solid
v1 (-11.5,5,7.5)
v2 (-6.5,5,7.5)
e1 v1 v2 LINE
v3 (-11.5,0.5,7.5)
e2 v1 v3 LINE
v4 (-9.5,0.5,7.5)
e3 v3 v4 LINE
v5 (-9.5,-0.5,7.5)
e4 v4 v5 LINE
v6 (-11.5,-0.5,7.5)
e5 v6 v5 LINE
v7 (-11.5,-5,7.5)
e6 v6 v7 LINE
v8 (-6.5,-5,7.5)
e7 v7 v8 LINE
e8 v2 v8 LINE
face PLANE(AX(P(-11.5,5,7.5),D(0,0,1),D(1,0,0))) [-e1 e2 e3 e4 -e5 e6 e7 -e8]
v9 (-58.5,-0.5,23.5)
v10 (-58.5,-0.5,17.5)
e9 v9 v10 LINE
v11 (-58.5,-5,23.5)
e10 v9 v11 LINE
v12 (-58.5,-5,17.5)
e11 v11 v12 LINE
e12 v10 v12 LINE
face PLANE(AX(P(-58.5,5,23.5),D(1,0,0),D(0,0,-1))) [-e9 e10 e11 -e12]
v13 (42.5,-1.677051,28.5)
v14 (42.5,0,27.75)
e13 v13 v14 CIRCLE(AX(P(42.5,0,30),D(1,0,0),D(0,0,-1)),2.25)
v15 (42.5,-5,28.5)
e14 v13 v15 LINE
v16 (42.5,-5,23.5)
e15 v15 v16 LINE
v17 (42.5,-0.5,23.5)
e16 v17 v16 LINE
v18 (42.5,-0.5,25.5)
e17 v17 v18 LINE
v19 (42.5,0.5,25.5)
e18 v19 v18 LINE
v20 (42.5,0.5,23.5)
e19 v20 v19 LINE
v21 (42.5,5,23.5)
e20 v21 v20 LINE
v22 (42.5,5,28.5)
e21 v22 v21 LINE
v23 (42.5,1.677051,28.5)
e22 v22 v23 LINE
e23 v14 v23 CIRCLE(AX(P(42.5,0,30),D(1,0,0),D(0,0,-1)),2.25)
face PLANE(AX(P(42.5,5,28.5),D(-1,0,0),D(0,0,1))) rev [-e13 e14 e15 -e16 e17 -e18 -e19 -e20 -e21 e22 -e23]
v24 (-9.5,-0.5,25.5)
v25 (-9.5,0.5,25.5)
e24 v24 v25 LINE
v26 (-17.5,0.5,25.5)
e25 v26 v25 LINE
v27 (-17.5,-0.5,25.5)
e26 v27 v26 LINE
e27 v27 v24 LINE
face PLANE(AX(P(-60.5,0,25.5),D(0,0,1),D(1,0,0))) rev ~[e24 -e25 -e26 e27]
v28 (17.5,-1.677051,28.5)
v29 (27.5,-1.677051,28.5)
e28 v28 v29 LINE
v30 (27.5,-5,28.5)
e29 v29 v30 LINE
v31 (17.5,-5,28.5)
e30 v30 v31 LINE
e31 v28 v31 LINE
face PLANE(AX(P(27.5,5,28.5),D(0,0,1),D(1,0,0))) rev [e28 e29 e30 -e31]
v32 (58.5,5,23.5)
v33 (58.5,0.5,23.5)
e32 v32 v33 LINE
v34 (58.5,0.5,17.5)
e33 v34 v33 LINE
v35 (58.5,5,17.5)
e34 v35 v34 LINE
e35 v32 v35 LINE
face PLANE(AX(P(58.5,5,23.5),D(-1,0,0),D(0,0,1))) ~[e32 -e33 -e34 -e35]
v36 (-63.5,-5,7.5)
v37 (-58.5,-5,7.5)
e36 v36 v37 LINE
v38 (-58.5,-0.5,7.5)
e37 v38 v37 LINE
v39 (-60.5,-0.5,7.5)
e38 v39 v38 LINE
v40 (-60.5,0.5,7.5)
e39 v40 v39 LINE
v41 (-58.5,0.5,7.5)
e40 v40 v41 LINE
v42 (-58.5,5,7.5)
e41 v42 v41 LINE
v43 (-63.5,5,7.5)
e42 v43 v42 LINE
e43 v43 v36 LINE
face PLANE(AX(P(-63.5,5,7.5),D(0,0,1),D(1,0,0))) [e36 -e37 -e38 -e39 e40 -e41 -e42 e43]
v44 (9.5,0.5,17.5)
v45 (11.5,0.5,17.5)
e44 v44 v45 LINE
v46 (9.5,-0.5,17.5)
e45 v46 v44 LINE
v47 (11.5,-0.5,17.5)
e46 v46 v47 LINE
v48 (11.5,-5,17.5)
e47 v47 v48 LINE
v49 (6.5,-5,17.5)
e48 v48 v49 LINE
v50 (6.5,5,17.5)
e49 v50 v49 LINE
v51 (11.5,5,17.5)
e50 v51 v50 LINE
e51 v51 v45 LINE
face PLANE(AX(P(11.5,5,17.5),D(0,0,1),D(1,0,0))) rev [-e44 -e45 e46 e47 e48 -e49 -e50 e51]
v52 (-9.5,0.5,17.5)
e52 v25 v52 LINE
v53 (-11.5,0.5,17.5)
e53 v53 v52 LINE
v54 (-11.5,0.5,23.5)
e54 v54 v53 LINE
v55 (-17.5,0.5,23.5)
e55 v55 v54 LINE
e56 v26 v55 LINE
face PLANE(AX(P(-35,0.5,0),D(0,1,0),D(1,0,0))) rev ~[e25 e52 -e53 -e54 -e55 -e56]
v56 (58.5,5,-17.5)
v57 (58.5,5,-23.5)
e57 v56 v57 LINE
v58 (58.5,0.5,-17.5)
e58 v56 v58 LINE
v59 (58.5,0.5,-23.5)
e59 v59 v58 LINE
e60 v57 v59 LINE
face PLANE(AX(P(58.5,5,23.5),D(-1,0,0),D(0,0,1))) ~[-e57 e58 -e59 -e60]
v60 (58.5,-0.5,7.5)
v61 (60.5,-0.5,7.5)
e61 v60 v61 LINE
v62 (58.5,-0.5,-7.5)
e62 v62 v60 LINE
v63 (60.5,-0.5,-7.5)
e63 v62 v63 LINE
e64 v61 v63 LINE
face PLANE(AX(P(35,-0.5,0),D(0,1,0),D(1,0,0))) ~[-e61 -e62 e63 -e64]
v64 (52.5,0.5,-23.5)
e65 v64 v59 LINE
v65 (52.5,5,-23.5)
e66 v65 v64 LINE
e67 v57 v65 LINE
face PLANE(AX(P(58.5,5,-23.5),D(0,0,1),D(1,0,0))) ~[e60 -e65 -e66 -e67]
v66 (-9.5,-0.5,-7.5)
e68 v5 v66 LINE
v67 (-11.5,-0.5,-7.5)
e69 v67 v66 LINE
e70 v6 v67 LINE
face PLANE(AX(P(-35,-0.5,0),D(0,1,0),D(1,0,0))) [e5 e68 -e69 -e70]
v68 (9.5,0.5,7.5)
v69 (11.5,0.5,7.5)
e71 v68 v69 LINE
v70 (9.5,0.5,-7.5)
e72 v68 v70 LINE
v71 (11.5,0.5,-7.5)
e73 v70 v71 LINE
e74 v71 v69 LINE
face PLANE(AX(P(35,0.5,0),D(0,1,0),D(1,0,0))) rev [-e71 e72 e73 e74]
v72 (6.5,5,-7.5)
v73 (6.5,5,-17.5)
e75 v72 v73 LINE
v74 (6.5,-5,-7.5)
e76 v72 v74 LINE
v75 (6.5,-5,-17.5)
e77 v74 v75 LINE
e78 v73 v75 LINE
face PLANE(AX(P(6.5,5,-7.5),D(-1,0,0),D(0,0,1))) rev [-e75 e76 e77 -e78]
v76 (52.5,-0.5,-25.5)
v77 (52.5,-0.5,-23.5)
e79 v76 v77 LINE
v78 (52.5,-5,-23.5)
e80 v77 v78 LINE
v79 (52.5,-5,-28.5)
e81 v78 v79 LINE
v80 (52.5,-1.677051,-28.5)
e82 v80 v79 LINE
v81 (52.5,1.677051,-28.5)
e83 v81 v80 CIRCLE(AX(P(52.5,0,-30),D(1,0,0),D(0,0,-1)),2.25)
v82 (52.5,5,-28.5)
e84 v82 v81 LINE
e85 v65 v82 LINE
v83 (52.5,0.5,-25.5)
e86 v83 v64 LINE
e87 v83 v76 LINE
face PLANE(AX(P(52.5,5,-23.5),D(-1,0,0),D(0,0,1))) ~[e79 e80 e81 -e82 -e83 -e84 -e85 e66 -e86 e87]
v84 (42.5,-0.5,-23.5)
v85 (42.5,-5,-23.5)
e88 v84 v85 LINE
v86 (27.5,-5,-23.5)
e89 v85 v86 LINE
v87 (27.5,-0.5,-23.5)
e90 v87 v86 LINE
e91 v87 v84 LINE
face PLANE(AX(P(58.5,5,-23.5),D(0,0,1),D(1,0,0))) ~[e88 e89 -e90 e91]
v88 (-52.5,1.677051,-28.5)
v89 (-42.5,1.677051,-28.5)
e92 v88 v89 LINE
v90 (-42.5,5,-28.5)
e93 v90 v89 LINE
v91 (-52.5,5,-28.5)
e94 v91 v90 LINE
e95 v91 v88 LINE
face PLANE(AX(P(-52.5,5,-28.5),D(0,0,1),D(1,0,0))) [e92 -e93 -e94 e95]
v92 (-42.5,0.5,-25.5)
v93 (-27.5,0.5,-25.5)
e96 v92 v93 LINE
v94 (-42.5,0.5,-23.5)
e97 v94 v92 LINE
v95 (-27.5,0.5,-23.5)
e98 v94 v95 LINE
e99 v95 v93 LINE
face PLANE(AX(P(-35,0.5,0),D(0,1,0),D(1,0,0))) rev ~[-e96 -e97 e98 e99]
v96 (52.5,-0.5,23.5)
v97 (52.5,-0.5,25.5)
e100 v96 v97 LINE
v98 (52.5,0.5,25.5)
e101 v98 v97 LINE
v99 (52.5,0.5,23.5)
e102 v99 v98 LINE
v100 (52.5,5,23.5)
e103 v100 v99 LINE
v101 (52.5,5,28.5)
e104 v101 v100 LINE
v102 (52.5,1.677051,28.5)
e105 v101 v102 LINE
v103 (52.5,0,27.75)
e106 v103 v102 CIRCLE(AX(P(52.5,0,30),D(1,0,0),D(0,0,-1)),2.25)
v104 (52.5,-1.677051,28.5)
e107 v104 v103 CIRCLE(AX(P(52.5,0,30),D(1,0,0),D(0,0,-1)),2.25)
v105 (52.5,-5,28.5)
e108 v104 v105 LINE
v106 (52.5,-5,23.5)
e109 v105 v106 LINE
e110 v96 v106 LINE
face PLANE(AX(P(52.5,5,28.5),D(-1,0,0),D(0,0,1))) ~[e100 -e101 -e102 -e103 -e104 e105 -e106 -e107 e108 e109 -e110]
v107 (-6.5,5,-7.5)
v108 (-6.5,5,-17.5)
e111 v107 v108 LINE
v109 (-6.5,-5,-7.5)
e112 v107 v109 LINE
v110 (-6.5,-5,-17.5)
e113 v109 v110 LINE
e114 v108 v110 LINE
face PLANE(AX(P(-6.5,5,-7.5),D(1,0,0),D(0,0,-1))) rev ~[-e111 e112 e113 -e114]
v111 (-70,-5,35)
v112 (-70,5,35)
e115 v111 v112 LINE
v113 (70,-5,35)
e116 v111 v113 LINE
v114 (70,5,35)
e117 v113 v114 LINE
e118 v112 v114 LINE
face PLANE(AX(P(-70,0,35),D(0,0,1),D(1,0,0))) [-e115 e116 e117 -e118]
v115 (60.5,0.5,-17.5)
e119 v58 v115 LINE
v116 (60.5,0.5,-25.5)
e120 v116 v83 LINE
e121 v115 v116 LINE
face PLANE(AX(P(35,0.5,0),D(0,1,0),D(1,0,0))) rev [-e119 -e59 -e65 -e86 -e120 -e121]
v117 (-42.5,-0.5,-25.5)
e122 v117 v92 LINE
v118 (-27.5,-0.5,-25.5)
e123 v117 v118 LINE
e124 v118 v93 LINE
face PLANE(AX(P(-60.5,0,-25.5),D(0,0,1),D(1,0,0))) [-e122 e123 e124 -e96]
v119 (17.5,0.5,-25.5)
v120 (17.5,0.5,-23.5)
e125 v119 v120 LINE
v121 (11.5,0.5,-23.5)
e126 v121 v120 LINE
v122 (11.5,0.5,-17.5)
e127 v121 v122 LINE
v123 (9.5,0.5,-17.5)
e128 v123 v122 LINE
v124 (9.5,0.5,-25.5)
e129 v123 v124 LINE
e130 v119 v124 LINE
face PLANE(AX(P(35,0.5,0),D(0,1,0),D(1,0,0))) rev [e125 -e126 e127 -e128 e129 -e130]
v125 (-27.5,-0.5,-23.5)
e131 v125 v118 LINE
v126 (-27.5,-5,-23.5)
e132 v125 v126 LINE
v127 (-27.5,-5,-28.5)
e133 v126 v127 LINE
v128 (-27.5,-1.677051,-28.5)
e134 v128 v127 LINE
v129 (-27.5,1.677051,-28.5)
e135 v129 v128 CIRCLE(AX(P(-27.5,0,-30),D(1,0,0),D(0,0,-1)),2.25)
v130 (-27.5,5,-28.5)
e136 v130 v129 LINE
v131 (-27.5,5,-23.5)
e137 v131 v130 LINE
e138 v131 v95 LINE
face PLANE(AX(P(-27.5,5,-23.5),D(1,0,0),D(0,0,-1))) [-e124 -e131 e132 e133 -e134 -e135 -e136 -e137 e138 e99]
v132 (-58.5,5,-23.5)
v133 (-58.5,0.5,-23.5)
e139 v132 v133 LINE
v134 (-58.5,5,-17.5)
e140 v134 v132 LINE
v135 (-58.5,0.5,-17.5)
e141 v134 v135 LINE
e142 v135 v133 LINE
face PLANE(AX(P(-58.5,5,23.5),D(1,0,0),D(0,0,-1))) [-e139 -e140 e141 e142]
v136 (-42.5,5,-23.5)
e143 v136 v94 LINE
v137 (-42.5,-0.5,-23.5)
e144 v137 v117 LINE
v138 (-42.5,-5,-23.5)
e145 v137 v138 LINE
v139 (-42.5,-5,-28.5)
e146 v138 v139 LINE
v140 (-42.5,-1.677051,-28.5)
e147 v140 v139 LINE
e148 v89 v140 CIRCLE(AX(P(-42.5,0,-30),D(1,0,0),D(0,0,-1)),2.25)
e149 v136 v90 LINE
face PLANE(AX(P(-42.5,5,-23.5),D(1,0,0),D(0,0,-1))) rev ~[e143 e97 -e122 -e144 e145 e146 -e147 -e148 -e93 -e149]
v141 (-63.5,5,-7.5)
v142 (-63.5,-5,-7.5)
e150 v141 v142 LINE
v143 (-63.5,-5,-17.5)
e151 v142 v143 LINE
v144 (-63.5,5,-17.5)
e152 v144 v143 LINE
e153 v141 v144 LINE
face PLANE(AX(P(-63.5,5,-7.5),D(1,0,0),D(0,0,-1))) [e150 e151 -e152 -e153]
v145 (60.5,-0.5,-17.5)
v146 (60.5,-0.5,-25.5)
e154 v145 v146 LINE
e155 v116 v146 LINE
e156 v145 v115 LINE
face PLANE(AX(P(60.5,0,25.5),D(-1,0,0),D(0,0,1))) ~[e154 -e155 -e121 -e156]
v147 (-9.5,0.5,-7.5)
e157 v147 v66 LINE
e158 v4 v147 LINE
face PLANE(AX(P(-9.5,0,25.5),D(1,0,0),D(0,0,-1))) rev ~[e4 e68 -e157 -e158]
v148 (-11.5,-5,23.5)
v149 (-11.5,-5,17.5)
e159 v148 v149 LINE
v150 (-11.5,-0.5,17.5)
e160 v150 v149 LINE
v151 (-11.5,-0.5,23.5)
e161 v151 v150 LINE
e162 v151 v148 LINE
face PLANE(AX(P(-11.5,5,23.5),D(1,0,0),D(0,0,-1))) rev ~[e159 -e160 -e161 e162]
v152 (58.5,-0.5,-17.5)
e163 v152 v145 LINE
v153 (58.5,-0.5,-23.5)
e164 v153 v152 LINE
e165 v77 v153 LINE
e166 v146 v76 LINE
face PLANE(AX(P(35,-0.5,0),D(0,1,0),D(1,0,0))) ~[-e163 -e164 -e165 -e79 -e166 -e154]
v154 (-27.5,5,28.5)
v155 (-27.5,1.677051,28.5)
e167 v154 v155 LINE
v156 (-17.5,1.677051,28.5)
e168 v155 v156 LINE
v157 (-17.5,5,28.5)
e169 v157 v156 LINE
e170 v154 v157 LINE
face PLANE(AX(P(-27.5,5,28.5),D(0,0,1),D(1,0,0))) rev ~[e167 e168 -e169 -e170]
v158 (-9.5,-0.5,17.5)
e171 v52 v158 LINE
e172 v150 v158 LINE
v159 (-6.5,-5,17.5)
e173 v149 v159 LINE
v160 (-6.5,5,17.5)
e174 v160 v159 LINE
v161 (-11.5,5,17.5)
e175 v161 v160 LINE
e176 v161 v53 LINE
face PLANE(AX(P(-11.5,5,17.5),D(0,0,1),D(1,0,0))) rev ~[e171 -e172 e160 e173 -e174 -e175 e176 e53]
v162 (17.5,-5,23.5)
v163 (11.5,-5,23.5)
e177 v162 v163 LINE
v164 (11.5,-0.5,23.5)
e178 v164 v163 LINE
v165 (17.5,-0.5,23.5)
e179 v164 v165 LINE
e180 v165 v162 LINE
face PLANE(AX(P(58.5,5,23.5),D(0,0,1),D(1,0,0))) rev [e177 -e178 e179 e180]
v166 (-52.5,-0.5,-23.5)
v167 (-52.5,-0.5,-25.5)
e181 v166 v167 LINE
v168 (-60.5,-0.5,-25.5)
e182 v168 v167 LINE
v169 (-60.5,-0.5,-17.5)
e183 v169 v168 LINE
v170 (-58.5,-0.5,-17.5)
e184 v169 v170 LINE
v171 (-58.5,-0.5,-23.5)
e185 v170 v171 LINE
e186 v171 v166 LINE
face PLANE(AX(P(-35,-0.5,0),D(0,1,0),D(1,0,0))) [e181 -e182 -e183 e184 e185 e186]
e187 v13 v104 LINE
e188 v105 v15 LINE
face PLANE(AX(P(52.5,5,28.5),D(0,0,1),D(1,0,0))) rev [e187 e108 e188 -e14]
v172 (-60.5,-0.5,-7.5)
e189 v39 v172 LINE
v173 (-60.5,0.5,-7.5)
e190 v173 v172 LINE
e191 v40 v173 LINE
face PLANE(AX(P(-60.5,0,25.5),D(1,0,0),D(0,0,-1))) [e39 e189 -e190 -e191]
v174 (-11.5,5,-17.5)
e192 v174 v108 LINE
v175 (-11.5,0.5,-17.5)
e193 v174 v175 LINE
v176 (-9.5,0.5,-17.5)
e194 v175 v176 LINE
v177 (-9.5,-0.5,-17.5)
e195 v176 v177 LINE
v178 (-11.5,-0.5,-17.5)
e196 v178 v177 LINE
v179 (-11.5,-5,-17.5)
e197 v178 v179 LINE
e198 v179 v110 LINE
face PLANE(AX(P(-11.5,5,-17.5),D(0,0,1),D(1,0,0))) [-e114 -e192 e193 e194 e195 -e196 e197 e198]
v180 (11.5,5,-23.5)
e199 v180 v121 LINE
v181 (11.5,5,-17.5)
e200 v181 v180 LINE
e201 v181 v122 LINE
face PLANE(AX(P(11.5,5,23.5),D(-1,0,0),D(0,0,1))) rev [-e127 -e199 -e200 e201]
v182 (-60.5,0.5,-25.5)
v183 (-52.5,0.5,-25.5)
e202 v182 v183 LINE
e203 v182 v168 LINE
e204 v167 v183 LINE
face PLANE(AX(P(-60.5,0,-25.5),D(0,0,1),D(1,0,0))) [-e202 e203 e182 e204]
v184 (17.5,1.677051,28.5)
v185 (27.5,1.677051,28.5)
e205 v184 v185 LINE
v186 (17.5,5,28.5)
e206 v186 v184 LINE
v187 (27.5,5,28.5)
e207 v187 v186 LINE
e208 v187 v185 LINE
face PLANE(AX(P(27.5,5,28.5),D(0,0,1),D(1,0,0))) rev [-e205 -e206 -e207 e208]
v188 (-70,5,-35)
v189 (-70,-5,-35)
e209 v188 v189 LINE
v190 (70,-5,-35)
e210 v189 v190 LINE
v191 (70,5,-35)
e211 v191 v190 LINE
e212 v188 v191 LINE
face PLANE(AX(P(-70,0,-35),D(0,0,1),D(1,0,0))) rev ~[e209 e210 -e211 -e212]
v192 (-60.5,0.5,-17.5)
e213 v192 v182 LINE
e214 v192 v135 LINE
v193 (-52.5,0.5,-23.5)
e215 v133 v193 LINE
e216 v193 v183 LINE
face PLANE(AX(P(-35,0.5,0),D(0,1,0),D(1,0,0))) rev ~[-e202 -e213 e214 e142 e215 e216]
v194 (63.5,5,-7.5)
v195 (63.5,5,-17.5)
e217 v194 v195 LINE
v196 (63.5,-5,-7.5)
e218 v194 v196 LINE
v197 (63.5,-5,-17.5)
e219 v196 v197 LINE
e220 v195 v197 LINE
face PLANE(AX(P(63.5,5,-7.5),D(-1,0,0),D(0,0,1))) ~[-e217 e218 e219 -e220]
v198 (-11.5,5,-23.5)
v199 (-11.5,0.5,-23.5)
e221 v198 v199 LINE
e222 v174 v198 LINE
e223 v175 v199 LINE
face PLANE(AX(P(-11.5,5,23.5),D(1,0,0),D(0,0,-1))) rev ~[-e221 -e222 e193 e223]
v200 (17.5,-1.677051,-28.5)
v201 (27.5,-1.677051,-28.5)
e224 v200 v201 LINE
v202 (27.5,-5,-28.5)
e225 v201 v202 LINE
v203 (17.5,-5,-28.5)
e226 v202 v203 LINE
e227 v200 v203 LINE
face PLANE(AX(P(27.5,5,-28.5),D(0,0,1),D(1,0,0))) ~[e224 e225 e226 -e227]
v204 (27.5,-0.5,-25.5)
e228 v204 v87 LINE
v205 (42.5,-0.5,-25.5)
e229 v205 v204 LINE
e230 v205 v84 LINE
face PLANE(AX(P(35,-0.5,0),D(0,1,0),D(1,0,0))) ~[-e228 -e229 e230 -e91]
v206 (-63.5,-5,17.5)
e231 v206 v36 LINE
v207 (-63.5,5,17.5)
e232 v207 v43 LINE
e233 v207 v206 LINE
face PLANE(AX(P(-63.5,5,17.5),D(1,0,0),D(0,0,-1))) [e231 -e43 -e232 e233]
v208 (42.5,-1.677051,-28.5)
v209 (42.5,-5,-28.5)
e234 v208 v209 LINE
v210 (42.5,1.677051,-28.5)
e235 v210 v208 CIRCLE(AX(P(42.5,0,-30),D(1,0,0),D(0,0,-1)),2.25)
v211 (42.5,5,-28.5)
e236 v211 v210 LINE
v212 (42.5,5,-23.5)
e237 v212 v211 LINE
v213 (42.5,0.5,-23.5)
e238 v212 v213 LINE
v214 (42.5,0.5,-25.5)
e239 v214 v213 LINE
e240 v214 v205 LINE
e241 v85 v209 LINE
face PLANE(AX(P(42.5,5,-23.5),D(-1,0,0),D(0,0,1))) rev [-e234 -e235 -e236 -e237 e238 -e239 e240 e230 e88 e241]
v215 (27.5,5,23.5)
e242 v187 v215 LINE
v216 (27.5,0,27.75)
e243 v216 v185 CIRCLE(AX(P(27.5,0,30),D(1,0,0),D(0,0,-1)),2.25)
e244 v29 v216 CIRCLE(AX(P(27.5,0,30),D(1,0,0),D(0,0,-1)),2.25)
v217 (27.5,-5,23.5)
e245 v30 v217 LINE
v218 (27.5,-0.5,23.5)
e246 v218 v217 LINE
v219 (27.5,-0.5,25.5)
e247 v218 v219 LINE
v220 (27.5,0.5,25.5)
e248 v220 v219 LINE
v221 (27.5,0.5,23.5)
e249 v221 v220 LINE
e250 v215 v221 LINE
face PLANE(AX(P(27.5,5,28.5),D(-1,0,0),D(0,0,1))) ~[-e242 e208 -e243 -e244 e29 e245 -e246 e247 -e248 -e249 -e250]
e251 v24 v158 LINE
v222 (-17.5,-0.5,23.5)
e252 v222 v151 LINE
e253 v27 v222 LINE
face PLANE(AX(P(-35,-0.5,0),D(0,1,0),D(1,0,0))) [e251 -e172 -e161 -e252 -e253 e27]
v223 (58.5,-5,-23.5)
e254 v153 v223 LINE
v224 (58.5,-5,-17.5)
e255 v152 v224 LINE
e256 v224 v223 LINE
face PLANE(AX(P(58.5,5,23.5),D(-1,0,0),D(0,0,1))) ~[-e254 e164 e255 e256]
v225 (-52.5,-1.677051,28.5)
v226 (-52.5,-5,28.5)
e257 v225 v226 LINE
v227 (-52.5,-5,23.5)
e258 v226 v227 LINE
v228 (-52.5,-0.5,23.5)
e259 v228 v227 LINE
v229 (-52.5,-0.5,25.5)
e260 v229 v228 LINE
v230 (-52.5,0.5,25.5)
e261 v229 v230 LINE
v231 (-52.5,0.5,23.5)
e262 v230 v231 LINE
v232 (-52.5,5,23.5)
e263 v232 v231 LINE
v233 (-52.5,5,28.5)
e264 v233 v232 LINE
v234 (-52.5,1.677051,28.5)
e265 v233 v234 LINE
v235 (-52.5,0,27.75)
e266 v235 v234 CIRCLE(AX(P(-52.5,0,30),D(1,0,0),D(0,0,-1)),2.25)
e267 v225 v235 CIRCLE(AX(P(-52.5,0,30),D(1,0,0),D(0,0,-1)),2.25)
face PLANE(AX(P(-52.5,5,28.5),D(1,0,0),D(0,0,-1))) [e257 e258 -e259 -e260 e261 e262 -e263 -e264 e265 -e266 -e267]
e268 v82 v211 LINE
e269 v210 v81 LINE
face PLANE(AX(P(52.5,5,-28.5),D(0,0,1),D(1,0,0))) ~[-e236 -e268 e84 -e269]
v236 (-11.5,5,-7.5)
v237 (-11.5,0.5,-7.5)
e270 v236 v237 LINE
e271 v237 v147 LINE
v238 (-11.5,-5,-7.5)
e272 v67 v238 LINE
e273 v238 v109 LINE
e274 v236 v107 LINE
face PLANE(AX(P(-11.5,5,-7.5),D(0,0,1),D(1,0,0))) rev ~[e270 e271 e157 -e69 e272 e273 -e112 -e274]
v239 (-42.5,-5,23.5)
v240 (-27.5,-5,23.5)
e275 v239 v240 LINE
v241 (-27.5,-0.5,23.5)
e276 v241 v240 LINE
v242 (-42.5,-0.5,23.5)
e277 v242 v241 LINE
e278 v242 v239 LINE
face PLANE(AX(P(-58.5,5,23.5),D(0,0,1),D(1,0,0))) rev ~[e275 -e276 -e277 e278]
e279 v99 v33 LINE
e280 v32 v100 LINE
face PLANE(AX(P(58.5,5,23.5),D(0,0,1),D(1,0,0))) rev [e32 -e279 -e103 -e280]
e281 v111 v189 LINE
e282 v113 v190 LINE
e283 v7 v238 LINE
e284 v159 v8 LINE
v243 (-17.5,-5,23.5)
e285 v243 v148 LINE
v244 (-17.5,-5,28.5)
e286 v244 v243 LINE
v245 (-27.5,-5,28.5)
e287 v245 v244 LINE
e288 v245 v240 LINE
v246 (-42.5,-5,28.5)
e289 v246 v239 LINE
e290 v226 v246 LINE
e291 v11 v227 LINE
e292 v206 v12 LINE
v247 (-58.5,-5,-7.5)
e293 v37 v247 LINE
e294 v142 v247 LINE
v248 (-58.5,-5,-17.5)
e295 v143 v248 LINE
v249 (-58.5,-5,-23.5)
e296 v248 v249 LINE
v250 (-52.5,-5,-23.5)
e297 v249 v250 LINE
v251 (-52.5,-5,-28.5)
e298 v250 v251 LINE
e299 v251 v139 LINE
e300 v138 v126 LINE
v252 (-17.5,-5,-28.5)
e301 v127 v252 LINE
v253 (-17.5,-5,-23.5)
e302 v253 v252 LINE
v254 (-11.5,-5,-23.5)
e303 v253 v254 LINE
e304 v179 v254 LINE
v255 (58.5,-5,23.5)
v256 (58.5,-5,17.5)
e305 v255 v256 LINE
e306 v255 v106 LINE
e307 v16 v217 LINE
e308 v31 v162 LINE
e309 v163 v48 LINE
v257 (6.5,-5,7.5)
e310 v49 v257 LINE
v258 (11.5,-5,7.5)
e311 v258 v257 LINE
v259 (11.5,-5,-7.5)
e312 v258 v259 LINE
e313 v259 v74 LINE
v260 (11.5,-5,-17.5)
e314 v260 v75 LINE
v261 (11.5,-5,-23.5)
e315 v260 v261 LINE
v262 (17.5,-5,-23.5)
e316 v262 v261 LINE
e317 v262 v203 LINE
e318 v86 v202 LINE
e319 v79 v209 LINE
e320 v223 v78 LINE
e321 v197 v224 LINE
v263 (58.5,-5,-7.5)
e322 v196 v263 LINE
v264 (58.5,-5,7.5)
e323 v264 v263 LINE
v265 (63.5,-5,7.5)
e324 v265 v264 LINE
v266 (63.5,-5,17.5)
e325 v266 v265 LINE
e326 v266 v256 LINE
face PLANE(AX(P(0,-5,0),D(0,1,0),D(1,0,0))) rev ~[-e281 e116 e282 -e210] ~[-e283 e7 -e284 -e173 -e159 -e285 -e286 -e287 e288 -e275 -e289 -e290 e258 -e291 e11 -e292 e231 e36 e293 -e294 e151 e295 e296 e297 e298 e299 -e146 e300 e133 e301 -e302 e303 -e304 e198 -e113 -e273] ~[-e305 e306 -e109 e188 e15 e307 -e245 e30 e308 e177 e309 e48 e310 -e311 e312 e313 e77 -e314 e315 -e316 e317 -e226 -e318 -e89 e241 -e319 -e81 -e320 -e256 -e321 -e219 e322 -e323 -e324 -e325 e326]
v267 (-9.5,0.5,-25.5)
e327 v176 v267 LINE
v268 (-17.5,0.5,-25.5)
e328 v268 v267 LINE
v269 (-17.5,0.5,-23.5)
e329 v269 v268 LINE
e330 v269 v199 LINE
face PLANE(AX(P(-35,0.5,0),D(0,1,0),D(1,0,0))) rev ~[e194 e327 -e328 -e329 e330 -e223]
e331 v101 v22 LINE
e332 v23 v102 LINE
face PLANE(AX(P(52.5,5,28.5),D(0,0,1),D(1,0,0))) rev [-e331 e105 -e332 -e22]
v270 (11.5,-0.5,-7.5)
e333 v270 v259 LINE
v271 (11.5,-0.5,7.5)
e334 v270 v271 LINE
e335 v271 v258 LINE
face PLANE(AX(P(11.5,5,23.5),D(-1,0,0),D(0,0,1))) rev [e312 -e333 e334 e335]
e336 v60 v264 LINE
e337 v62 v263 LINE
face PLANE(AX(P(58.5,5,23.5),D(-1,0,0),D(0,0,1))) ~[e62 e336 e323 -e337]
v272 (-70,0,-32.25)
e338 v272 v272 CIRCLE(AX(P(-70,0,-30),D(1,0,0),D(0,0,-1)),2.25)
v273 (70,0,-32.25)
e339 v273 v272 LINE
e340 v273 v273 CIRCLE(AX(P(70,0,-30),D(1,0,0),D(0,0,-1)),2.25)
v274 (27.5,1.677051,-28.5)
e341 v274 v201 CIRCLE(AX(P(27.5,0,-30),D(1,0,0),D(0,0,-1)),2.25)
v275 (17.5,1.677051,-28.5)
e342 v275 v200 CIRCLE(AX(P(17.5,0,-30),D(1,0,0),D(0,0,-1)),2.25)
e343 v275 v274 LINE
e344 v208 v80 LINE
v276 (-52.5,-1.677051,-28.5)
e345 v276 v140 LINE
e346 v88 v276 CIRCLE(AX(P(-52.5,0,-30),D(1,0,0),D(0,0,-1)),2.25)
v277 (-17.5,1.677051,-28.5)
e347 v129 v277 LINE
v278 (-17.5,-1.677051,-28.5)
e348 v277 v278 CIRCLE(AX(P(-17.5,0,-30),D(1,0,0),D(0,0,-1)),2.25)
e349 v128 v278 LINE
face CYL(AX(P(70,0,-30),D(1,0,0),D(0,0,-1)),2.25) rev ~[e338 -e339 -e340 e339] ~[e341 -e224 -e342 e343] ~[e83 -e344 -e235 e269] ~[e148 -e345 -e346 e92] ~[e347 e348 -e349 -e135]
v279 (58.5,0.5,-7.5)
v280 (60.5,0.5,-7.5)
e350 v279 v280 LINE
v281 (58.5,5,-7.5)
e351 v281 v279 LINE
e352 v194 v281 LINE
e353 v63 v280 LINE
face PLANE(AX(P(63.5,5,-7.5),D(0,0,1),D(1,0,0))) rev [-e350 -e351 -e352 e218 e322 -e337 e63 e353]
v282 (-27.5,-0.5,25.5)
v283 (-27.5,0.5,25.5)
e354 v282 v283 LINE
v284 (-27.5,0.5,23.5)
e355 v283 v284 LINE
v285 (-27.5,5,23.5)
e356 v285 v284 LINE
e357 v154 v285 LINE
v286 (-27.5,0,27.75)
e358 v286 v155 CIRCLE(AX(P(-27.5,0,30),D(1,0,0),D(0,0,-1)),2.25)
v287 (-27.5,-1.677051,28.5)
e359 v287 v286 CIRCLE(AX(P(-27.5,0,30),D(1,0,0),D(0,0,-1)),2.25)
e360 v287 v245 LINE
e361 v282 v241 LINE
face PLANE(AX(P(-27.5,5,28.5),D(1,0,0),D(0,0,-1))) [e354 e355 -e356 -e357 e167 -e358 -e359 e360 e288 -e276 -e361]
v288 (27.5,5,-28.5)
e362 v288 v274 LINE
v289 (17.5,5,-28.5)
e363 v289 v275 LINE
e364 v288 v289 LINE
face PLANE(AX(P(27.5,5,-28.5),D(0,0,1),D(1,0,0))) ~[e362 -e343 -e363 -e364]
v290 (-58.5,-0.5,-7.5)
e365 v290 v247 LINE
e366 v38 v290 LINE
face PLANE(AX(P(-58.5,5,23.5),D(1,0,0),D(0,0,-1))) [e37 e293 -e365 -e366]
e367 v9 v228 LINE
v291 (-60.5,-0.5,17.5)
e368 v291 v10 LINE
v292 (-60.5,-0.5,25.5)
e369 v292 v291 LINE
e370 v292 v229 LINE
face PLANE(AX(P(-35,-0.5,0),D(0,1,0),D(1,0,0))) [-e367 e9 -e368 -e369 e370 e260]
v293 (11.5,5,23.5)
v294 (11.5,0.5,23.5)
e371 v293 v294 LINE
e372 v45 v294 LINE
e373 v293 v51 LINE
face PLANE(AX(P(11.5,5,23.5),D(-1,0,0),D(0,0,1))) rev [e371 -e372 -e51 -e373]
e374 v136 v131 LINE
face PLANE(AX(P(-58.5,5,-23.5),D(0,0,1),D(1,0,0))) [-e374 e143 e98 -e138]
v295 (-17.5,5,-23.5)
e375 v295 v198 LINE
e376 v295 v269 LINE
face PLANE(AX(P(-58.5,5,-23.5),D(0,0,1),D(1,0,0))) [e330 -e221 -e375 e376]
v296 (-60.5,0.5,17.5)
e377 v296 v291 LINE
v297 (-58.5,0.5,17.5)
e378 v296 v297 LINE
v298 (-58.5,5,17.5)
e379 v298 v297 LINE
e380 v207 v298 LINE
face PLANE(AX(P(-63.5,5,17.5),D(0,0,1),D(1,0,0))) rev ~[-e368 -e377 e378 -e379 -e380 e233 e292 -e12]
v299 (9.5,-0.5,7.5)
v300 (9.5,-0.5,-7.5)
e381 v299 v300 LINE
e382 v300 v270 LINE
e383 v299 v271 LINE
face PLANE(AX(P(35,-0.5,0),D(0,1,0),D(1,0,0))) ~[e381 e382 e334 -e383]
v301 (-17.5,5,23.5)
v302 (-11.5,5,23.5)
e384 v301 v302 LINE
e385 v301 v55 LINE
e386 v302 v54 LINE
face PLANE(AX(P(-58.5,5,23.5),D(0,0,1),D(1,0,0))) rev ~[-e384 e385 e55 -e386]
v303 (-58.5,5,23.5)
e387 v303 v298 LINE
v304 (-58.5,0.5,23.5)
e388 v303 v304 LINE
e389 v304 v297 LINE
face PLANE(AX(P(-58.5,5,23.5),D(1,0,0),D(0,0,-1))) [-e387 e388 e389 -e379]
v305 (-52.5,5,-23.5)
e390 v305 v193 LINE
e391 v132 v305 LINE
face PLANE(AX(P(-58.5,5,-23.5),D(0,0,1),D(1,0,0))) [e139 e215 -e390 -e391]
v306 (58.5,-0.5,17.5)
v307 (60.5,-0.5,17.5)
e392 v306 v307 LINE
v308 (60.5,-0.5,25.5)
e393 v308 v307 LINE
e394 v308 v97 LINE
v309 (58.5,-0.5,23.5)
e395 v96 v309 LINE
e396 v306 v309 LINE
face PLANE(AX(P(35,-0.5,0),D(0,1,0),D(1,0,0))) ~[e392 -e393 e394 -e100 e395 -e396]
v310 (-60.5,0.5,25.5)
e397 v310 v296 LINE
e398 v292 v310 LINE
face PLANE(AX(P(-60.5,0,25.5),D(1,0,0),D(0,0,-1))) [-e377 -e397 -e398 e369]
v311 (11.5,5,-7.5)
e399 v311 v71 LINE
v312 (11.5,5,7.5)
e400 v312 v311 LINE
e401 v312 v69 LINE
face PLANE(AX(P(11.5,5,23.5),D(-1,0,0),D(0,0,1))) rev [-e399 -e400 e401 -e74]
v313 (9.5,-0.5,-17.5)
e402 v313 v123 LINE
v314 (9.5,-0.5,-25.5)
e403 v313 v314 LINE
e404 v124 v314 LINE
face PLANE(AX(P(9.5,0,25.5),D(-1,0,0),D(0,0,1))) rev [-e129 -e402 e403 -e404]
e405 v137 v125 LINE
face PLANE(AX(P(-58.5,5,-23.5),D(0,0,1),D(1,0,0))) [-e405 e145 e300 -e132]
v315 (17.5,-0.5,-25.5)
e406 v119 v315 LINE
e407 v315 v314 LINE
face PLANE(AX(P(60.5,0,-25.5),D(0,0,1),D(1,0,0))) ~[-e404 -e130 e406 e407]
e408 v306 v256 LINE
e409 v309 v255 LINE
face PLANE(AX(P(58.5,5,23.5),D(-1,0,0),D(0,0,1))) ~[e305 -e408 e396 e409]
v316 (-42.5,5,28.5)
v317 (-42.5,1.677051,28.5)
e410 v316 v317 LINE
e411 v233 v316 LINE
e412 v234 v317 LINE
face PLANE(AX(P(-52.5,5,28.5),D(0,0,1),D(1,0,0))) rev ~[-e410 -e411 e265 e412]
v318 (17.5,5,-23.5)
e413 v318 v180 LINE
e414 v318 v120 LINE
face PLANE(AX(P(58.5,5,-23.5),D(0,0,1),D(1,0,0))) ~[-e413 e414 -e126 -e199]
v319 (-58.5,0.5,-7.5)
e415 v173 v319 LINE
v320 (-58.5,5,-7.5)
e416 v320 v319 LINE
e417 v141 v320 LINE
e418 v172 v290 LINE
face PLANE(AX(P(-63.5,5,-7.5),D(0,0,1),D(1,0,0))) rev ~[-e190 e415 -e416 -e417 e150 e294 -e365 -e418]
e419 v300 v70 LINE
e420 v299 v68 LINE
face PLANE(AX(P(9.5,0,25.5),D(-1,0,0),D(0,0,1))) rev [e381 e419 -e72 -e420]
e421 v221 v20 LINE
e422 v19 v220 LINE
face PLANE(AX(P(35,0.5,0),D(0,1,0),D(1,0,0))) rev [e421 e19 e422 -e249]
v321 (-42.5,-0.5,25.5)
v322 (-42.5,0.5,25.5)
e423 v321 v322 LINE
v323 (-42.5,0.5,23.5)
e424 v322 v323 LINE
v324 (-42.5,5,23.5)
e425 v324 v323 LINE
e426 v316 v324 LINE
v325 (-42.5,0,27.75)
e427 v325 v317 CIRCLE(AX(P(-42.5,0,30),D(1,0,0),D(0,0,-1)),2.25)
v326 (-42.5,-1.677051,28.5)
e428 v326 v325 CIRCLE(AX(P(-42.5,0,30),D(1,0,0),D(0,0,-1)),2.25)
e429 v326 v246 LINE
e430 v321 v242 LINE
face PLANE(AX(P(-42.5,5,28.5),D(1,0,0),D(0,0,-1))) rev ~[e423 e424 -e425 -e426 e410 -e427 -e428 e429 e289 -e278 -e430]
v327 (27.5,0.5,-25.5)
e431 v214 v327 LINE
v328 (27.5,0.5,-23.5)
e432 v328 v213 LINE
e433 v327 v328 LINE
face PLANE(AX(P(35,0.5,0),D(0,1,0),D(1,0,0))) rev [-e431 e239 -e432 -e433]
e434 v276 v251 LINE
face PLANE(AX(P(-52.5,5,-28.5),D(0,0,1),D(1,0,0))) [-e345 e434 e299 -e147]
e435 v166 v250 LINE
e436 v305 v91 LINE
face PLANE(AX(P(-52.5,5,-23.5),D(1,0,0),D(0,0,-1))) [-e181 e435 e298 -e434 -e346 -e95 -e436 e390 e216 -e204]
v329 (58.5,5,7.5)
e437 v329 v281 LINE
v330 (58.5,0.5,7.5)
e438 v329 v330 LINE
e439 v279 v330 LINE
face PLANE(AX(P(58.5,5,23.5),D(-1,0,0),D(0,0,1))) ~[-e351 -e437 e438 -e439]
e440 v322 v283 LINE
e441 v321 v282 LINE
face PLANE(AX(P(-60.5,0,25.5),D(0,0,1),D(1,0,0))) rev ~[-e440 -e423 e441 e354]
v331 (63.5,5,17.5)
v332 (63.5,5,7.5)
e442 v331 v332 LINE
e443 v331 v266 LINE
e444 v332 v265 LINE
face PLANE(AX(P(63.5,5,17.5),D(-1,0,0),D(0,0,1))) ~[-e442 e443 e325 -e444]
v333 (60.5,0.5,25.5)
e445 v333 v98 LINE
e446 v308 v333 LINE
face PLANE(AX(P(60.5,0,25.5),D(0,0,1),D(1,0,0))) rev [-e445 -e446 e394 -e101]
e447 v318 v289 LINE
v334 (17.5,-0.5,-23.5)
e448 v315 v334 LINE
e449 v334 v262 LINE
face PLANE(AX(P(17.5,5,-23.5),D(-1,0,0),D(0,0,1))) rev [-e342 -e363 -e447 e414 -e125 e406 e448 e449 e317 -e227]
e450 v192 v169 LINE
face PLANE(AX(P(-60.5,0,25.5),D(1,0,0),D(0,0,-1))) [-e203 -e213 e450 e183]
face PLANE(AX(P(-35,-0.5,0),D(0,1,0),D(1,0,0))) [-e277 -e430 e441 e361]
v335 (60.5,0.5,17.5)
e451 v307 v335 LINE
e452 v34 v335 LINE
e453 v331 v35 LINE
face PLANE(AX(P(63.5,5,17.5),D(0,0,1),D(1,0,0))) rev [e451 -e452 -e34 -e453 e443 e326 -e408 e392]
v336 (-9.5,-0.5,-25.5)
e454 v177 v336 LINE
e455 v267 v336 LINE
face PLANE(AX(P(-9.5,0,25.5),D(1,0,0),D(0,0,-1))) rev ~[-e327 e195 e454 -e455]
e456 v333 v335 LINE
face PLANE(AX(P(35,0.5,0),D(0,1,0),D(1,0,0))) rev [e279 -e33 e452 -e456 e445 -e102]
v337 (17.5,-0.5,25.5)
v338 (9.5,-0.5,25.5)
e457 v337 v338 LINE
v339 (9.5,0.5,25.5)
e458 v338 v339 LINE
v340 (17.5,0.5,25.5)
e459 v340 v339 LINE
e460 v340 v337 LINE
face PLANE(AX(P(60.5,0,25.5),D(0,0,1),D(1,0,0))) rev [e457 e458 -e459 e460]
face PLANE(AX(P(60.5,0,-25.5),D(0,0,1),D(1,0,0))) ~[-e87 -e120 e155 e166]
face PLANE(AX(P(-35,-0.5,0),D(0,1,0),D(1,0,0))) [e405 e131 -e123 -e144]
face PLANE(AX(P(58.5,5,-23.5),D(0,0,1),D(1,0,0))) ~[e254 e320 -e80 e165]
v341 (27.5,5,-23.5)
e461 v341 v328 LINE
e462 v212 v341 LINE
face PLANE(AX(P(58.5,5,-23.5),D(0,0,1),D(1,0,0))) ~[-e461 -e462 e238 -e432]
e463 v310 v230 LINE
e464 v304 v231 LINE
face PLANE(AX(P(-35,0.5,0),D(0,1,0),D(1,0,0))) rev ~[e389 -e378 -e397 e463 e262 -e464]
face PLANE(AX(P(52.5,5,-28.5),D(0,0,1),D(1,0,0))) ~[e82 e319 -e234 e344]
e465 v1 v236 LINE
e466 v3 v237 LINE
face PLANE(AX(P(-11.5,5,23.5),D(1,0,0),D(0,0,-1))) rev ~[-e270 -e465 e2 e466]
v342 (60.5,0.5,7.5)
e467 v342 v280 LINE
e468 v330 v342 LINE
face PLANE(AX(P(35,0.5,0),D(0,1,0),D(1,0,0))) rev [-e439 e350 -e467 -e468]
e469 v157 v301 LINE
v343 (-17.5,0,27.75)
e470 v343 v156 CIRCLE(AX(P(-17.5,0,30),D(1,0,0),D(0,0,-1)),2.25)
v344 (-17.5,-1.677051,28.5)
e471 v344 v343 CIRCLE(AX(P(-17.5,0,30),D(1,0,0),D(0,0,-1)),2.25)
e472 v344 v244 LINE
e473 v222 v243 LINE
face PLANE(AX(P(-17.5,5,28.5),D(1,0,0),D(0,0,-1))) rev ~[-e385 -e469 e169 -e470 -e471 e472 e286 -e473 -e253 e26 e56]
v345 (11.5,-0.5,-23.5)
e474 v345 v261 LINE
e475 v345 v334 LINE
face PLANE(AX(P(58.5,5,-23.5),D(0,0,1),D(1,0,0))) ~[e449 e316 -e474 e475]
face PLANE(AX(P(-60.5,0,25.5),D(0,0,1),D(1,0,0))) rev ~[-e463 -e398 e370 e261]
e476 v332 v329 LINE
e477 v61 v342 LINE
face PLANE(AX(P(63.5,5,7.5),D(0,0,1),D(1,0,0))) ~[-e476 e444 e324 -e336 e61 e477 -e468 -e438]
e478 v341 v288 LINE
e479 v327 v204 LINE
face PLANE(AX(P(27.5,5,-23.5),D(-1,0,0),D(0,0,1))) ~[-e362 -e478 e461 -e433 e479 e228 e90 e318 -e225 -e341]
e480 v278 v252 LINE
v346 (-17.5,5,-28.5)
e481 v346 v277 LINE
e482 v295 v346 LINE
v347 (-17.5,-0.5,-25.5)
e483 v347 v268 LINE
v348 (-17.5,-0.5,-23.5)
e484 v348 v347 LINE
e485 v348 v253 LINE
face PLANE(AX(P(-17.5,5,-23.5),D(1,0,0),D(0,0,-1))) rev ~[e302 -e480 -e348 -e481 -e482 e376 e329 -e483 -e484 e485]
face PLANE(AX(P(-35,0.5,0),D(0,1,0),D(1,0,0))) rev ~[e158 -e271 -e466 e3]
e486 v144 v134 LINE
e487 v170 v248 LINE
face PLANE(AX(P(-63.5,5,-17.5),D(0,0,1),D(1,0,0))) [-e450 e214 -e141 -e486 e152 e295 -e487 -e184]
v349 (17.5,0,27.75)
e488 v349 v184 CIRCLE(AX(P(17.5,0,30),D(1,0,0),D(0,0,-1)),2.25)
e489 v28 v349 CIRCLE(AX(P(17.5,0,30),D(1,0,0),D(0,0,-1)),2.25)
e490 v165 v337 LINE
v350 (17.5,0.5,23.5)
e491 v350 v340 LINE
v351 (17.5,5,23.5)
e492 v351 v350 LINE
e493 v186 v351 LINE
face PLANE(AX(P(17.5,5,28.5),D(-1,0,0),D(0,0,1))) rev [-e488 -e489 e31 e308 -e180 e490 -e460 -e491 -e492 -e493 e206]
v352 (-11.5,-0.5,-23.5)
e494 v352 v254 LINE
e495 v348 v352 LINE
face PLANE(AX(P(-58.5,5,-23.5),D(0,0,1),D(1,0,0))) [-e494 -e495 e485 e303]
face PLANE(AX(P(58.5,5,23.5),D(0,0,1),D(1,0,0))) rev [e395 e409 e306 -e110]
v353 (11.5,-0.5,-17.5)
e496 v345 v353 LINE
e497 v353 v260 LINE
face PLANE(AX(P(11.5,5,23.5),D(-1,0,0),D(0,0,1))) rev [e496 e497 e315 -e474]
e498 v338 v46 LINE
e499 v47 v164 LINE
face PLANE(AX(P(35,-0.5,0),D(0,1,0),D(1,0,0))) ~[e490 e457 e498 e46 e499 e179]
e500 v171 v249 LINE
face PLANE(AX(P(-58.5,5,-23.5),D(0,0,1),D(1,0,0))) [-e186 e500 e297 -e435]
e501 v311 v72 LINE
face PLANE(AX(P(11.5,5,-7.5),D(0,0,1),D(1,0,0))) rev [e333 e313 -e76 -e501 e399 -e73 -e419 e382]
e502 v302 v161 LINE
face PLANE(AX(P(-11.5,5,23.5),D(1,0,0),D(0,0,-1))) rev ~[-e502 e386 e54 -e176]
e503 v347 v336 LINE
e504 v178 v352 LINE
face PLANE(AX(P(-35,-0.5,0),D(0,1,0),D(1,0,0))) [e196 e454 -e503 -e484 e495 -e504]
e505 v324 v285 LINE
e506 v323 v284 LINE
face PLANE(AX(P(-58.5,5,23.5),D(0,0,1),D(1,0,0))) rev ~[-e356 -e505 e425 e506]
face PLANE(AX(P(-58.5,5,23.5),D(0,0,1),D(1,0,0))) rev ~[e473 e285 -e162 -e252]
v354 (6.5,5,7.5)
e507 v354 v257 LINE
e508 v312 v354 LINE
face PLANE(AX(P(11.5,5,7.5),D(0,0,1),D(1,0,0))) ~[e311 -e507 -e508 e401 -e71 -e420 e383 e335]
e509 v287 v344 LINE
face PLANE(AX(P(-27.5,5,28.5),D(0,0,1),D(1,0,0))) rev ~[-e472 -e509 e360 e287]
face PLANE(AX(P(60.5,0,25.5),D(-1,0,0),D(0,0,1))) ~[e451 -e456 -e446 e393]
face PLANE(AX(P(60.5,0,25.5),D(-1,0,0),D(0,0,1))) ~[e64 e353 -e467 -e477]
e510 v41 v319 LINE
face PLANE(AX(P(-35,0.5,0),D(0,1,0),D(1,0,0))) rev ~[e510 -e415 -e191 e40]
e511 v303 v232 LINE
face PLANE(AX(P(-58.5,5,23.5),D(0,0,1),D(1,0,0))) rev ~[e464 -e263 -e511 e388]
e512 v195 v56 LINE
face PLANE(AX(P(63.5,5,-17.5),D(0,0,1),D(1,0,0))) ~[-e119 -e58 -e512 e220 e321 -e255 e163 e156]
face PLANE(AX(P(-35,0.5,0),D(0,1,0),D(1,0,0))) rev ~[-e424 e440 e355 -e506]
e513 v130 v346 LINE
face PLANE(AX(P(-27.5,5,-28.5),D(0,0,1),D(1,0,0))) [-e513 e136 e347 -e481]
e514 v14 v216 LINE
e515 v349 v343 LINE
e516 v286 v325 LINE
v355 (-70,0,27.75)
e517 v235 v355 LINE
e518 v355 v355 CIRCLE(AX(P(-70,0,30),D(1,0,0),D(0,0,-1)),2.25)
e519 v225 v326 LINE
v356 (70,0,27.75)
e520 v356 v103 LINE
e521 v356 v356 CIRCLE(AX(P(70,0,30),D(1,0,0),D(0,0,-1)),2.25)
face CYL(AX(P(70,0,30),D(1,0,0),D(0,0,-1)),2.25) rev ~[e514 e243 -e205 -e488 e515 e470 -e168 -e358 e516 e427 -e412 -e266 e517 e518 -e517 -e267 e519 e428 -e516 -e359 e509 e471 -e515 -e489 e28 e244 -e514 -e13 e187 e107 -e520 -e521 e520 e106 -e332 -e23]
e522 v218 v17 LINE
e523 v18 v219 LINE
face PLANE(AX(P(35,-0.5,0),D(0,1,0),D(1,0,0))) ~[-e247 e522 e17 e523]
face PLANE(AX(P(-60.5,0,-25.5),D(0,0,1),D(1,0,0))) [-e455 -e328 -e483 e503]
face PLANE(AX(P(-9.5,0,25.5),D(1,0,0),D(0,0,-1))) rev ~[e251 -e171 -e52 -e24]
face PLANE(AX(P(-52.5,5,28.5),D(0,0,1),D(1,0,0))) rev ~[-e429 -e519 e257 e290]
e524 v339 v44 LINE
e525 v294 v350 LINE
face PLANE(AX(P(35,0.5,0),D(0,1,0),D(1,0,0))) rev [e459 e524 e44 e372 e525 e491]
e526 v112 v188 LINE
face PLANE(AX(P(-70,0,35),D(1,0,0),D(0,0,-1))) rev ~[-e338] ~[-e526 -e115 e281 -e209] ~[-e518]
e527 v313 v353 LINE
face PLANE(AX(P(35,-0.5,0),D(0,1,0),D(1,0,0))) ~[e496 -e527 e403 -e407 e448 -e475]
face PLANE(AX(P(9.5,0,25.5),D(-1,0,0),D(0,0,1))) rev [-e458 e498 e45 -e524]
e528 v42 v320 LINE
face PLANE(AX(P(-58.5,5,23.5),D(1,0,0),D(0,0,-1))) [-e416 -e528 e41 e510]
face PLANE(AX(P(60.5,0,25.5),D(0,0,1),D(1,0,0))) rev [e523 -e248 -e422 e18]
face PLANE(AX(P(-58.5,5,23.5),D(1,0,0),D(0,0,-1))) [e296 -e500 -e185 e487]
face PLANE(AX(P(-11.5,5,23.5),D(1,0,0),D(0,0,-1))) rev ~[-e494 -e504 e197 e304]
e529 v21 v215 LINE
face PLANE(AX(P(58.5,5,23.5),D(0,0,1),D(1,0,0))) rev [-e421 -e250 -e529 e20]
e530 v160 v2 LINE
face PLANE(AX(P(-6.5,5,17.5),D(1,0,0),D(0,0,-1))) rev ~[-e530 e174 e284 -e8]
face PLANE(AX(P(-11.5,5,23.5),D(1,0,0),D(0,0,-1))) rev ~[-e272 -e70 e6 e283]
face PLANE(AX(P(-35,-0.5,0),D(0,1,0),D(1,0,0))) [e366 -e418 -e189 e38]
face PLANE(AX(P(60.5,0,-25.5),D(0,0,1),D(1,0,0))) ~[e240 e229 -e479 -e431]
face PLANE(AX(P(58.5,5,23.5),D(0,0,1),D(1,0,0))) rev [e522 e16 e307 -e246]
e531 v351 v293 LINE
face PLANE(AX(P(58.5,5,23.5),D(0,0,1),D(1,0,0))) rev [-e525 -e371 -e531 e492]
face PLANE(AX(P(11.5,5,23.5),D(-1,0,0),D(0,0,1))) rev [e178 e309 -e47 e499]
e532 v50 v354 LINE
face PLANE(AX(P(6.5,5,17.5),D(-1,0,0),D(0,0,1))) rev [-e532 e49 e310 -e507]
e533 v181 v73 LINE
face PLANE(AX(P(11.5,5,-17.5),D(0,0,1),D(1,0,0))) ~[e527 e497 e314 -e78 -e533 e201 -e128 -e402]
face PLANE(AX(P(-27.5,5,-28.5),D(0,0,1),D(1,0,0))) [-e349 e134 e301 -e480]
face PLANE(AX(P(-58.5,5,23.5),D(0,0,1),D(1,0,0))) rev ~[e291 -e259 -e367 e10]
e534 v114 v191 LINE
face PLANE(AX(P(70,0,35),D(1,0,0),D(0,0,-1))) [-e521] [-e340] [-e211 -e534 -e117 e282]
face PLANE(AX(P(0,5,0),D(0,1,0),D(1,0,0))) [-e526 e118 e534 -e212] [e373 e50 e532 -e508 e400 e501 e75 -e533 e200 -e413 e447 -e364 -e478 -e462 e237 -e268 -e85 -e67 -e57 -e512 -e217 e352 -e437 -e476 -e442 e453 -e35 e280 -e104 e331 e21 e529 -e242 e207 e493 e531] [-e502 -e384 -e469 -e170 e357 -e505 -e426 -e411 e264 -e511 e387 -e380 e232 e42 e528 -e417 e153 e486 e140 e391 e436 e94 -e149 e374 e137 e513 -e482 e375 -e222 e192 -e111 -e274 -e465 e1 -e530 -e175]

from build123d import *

# Parameters (mm, degrees)
SKETCH1_W           = 140
SKETCH1_H           = 70
BOSS_EXTRUDE1_DEPTH = 5
SKETCH2_R           = 2.25
CUT_EXTRUDE1_DEPTH  = 145.395290782
SKETCH3_W           = 51
SKETCH3_H           = 51
CUT_EXTRUDE2_DEPTH  = 0.5
SKETCH4_W           = 47
SKETCH4_H           = 47
CUT_EXTRUDE3_DEPTH  = 79.89866919
SKETCH5_W           = 10
SKETCH5_H           = 5
SKETCH5_W_2         = 5
SKETCH5_H_2         = 10
CUT_EXTRUDE4_DEPTH  = 79.89866919


with BuildPart() as part:
    # Sketch1 → Boss-Extrude1 (new, symmetric)
    with BuildSketch(Plane(origin=(0, 0, 0), x_dir=(1, 0, 0), z_dir=(0, 1, 0))):
        Rectangle(SKETCH1_W, SKETCH1_H)
    extrude(amount=BOSS_EXTRUDE1_DEPTH, both=True)

    # Sketch2 → Cut-Extrude1 (cut, through all)
    with BuildSketch(Plane(origin=(70, 0, 0), x_dir=(0, 0, -1), z_dir=(1, 0, 0))):
        with Locations((-30, 0)):
            Circle(SKETCH2_R)
        with Locations((30, 0)):
            Circle(SKETCH2_R)
    extrude(amount=-CUT_EXTRUDE1_DEPTH, mode=Mode.SUBTRACT)

    # Sketch3 → Cut-Extrude2 (cut, symmetric)
    with BuildSketch(Plane(origin=(0, 0, 0), x_dir=(1, 0, 0), z_dir=(0, 1, 0))):
        with Locations((-35, 0)):
            Rectangle(SKETCH3_W, SKETCH3_H)
    cut_extrude2 = extrude(amount=CUT_EXTRUDE2_DEPTH, both=True, mode=Mode.SUBTRACT)

    # Sketch4 → Cut-Extrude3 (cut, through all)
    with BuildSketch(Plane(origin=(0, 5, 0), x_dir=(1, 0, 0), z_dir=(0, 1, 0))):
        with Locations((-35, 0)):
            Rectangle(SKETCH4_W, SKETCH4_H)
    cut_extrude3 = extrude(amount=-CUT_EXTRUDE3_DEPTH, mode=Mode.SUBTRACT)

    # Sketch5 → Cut-Extrude4 (cut, through all)
    with BuildSketch(Plane(origin=(0, 5, 0), x_dir=(1, 0, 0), z_dir=(0, 1, 0))):
        with Locations((-47.5, 26)):
            Rectangle(SKETCH5_W, SKETCH5_H)
        with Locations((-22.5, 26)):
            Rectangle(SKETCH5_W, SKETCH5_H)
        with Locations((-9, 12.5)):
            Rectangle(SKETCH5_W_2, SKETCH5_H_2)
        with Locations((-9, -12.5)):
            Rectangle(SKETCH5_W_2, SKETCH5_H_2)
        with Locations((-22.5, -26)):
            Rectangle(SKETCH5_W, SKETCH5_H)
        with Locations((-47.5, -26)):
            Rectangle(SKETCH5_W, SKETCH5_H)
        with Locations((-61, -12.5)):
            Rectangle(SKETCH5_W_2, SKETCH5_H_2)
        with Locations((-61, 12.5)):
            Rectangle(SKETCH5_W_2, SKETCH5_H_2)
    cut_extrude4 = extrude(amount=-CUT_EXTRUDE4_DEPTH, mode=Mode.SUBTRACT)

    # Mirror1: Cut-Extrude2, Cut-Extrude3, Cut-Extrude4 across plane
    add(cut_extrude2.mirror(Plane(origin=(0, 0, 0), x_dir=(0, 0, 1), z_dir=(1, 0, 0))), mode=Mode.SUBTRACT)
    add(cut_extrude3.mirror(Plane(origin=(0, 0, 0), x_dir=(0, 0, 1), z_dir=(1, 0, 0))), mode=Mode.SUBTRACT)
    add(cut_extrude4.mirror(Plane(origin=(0, 0, 0), x_dir=(0, 0, 1), z_dir=(1, 0, 0))), mode=Mode.SUBTRACT)


solid = part.part
